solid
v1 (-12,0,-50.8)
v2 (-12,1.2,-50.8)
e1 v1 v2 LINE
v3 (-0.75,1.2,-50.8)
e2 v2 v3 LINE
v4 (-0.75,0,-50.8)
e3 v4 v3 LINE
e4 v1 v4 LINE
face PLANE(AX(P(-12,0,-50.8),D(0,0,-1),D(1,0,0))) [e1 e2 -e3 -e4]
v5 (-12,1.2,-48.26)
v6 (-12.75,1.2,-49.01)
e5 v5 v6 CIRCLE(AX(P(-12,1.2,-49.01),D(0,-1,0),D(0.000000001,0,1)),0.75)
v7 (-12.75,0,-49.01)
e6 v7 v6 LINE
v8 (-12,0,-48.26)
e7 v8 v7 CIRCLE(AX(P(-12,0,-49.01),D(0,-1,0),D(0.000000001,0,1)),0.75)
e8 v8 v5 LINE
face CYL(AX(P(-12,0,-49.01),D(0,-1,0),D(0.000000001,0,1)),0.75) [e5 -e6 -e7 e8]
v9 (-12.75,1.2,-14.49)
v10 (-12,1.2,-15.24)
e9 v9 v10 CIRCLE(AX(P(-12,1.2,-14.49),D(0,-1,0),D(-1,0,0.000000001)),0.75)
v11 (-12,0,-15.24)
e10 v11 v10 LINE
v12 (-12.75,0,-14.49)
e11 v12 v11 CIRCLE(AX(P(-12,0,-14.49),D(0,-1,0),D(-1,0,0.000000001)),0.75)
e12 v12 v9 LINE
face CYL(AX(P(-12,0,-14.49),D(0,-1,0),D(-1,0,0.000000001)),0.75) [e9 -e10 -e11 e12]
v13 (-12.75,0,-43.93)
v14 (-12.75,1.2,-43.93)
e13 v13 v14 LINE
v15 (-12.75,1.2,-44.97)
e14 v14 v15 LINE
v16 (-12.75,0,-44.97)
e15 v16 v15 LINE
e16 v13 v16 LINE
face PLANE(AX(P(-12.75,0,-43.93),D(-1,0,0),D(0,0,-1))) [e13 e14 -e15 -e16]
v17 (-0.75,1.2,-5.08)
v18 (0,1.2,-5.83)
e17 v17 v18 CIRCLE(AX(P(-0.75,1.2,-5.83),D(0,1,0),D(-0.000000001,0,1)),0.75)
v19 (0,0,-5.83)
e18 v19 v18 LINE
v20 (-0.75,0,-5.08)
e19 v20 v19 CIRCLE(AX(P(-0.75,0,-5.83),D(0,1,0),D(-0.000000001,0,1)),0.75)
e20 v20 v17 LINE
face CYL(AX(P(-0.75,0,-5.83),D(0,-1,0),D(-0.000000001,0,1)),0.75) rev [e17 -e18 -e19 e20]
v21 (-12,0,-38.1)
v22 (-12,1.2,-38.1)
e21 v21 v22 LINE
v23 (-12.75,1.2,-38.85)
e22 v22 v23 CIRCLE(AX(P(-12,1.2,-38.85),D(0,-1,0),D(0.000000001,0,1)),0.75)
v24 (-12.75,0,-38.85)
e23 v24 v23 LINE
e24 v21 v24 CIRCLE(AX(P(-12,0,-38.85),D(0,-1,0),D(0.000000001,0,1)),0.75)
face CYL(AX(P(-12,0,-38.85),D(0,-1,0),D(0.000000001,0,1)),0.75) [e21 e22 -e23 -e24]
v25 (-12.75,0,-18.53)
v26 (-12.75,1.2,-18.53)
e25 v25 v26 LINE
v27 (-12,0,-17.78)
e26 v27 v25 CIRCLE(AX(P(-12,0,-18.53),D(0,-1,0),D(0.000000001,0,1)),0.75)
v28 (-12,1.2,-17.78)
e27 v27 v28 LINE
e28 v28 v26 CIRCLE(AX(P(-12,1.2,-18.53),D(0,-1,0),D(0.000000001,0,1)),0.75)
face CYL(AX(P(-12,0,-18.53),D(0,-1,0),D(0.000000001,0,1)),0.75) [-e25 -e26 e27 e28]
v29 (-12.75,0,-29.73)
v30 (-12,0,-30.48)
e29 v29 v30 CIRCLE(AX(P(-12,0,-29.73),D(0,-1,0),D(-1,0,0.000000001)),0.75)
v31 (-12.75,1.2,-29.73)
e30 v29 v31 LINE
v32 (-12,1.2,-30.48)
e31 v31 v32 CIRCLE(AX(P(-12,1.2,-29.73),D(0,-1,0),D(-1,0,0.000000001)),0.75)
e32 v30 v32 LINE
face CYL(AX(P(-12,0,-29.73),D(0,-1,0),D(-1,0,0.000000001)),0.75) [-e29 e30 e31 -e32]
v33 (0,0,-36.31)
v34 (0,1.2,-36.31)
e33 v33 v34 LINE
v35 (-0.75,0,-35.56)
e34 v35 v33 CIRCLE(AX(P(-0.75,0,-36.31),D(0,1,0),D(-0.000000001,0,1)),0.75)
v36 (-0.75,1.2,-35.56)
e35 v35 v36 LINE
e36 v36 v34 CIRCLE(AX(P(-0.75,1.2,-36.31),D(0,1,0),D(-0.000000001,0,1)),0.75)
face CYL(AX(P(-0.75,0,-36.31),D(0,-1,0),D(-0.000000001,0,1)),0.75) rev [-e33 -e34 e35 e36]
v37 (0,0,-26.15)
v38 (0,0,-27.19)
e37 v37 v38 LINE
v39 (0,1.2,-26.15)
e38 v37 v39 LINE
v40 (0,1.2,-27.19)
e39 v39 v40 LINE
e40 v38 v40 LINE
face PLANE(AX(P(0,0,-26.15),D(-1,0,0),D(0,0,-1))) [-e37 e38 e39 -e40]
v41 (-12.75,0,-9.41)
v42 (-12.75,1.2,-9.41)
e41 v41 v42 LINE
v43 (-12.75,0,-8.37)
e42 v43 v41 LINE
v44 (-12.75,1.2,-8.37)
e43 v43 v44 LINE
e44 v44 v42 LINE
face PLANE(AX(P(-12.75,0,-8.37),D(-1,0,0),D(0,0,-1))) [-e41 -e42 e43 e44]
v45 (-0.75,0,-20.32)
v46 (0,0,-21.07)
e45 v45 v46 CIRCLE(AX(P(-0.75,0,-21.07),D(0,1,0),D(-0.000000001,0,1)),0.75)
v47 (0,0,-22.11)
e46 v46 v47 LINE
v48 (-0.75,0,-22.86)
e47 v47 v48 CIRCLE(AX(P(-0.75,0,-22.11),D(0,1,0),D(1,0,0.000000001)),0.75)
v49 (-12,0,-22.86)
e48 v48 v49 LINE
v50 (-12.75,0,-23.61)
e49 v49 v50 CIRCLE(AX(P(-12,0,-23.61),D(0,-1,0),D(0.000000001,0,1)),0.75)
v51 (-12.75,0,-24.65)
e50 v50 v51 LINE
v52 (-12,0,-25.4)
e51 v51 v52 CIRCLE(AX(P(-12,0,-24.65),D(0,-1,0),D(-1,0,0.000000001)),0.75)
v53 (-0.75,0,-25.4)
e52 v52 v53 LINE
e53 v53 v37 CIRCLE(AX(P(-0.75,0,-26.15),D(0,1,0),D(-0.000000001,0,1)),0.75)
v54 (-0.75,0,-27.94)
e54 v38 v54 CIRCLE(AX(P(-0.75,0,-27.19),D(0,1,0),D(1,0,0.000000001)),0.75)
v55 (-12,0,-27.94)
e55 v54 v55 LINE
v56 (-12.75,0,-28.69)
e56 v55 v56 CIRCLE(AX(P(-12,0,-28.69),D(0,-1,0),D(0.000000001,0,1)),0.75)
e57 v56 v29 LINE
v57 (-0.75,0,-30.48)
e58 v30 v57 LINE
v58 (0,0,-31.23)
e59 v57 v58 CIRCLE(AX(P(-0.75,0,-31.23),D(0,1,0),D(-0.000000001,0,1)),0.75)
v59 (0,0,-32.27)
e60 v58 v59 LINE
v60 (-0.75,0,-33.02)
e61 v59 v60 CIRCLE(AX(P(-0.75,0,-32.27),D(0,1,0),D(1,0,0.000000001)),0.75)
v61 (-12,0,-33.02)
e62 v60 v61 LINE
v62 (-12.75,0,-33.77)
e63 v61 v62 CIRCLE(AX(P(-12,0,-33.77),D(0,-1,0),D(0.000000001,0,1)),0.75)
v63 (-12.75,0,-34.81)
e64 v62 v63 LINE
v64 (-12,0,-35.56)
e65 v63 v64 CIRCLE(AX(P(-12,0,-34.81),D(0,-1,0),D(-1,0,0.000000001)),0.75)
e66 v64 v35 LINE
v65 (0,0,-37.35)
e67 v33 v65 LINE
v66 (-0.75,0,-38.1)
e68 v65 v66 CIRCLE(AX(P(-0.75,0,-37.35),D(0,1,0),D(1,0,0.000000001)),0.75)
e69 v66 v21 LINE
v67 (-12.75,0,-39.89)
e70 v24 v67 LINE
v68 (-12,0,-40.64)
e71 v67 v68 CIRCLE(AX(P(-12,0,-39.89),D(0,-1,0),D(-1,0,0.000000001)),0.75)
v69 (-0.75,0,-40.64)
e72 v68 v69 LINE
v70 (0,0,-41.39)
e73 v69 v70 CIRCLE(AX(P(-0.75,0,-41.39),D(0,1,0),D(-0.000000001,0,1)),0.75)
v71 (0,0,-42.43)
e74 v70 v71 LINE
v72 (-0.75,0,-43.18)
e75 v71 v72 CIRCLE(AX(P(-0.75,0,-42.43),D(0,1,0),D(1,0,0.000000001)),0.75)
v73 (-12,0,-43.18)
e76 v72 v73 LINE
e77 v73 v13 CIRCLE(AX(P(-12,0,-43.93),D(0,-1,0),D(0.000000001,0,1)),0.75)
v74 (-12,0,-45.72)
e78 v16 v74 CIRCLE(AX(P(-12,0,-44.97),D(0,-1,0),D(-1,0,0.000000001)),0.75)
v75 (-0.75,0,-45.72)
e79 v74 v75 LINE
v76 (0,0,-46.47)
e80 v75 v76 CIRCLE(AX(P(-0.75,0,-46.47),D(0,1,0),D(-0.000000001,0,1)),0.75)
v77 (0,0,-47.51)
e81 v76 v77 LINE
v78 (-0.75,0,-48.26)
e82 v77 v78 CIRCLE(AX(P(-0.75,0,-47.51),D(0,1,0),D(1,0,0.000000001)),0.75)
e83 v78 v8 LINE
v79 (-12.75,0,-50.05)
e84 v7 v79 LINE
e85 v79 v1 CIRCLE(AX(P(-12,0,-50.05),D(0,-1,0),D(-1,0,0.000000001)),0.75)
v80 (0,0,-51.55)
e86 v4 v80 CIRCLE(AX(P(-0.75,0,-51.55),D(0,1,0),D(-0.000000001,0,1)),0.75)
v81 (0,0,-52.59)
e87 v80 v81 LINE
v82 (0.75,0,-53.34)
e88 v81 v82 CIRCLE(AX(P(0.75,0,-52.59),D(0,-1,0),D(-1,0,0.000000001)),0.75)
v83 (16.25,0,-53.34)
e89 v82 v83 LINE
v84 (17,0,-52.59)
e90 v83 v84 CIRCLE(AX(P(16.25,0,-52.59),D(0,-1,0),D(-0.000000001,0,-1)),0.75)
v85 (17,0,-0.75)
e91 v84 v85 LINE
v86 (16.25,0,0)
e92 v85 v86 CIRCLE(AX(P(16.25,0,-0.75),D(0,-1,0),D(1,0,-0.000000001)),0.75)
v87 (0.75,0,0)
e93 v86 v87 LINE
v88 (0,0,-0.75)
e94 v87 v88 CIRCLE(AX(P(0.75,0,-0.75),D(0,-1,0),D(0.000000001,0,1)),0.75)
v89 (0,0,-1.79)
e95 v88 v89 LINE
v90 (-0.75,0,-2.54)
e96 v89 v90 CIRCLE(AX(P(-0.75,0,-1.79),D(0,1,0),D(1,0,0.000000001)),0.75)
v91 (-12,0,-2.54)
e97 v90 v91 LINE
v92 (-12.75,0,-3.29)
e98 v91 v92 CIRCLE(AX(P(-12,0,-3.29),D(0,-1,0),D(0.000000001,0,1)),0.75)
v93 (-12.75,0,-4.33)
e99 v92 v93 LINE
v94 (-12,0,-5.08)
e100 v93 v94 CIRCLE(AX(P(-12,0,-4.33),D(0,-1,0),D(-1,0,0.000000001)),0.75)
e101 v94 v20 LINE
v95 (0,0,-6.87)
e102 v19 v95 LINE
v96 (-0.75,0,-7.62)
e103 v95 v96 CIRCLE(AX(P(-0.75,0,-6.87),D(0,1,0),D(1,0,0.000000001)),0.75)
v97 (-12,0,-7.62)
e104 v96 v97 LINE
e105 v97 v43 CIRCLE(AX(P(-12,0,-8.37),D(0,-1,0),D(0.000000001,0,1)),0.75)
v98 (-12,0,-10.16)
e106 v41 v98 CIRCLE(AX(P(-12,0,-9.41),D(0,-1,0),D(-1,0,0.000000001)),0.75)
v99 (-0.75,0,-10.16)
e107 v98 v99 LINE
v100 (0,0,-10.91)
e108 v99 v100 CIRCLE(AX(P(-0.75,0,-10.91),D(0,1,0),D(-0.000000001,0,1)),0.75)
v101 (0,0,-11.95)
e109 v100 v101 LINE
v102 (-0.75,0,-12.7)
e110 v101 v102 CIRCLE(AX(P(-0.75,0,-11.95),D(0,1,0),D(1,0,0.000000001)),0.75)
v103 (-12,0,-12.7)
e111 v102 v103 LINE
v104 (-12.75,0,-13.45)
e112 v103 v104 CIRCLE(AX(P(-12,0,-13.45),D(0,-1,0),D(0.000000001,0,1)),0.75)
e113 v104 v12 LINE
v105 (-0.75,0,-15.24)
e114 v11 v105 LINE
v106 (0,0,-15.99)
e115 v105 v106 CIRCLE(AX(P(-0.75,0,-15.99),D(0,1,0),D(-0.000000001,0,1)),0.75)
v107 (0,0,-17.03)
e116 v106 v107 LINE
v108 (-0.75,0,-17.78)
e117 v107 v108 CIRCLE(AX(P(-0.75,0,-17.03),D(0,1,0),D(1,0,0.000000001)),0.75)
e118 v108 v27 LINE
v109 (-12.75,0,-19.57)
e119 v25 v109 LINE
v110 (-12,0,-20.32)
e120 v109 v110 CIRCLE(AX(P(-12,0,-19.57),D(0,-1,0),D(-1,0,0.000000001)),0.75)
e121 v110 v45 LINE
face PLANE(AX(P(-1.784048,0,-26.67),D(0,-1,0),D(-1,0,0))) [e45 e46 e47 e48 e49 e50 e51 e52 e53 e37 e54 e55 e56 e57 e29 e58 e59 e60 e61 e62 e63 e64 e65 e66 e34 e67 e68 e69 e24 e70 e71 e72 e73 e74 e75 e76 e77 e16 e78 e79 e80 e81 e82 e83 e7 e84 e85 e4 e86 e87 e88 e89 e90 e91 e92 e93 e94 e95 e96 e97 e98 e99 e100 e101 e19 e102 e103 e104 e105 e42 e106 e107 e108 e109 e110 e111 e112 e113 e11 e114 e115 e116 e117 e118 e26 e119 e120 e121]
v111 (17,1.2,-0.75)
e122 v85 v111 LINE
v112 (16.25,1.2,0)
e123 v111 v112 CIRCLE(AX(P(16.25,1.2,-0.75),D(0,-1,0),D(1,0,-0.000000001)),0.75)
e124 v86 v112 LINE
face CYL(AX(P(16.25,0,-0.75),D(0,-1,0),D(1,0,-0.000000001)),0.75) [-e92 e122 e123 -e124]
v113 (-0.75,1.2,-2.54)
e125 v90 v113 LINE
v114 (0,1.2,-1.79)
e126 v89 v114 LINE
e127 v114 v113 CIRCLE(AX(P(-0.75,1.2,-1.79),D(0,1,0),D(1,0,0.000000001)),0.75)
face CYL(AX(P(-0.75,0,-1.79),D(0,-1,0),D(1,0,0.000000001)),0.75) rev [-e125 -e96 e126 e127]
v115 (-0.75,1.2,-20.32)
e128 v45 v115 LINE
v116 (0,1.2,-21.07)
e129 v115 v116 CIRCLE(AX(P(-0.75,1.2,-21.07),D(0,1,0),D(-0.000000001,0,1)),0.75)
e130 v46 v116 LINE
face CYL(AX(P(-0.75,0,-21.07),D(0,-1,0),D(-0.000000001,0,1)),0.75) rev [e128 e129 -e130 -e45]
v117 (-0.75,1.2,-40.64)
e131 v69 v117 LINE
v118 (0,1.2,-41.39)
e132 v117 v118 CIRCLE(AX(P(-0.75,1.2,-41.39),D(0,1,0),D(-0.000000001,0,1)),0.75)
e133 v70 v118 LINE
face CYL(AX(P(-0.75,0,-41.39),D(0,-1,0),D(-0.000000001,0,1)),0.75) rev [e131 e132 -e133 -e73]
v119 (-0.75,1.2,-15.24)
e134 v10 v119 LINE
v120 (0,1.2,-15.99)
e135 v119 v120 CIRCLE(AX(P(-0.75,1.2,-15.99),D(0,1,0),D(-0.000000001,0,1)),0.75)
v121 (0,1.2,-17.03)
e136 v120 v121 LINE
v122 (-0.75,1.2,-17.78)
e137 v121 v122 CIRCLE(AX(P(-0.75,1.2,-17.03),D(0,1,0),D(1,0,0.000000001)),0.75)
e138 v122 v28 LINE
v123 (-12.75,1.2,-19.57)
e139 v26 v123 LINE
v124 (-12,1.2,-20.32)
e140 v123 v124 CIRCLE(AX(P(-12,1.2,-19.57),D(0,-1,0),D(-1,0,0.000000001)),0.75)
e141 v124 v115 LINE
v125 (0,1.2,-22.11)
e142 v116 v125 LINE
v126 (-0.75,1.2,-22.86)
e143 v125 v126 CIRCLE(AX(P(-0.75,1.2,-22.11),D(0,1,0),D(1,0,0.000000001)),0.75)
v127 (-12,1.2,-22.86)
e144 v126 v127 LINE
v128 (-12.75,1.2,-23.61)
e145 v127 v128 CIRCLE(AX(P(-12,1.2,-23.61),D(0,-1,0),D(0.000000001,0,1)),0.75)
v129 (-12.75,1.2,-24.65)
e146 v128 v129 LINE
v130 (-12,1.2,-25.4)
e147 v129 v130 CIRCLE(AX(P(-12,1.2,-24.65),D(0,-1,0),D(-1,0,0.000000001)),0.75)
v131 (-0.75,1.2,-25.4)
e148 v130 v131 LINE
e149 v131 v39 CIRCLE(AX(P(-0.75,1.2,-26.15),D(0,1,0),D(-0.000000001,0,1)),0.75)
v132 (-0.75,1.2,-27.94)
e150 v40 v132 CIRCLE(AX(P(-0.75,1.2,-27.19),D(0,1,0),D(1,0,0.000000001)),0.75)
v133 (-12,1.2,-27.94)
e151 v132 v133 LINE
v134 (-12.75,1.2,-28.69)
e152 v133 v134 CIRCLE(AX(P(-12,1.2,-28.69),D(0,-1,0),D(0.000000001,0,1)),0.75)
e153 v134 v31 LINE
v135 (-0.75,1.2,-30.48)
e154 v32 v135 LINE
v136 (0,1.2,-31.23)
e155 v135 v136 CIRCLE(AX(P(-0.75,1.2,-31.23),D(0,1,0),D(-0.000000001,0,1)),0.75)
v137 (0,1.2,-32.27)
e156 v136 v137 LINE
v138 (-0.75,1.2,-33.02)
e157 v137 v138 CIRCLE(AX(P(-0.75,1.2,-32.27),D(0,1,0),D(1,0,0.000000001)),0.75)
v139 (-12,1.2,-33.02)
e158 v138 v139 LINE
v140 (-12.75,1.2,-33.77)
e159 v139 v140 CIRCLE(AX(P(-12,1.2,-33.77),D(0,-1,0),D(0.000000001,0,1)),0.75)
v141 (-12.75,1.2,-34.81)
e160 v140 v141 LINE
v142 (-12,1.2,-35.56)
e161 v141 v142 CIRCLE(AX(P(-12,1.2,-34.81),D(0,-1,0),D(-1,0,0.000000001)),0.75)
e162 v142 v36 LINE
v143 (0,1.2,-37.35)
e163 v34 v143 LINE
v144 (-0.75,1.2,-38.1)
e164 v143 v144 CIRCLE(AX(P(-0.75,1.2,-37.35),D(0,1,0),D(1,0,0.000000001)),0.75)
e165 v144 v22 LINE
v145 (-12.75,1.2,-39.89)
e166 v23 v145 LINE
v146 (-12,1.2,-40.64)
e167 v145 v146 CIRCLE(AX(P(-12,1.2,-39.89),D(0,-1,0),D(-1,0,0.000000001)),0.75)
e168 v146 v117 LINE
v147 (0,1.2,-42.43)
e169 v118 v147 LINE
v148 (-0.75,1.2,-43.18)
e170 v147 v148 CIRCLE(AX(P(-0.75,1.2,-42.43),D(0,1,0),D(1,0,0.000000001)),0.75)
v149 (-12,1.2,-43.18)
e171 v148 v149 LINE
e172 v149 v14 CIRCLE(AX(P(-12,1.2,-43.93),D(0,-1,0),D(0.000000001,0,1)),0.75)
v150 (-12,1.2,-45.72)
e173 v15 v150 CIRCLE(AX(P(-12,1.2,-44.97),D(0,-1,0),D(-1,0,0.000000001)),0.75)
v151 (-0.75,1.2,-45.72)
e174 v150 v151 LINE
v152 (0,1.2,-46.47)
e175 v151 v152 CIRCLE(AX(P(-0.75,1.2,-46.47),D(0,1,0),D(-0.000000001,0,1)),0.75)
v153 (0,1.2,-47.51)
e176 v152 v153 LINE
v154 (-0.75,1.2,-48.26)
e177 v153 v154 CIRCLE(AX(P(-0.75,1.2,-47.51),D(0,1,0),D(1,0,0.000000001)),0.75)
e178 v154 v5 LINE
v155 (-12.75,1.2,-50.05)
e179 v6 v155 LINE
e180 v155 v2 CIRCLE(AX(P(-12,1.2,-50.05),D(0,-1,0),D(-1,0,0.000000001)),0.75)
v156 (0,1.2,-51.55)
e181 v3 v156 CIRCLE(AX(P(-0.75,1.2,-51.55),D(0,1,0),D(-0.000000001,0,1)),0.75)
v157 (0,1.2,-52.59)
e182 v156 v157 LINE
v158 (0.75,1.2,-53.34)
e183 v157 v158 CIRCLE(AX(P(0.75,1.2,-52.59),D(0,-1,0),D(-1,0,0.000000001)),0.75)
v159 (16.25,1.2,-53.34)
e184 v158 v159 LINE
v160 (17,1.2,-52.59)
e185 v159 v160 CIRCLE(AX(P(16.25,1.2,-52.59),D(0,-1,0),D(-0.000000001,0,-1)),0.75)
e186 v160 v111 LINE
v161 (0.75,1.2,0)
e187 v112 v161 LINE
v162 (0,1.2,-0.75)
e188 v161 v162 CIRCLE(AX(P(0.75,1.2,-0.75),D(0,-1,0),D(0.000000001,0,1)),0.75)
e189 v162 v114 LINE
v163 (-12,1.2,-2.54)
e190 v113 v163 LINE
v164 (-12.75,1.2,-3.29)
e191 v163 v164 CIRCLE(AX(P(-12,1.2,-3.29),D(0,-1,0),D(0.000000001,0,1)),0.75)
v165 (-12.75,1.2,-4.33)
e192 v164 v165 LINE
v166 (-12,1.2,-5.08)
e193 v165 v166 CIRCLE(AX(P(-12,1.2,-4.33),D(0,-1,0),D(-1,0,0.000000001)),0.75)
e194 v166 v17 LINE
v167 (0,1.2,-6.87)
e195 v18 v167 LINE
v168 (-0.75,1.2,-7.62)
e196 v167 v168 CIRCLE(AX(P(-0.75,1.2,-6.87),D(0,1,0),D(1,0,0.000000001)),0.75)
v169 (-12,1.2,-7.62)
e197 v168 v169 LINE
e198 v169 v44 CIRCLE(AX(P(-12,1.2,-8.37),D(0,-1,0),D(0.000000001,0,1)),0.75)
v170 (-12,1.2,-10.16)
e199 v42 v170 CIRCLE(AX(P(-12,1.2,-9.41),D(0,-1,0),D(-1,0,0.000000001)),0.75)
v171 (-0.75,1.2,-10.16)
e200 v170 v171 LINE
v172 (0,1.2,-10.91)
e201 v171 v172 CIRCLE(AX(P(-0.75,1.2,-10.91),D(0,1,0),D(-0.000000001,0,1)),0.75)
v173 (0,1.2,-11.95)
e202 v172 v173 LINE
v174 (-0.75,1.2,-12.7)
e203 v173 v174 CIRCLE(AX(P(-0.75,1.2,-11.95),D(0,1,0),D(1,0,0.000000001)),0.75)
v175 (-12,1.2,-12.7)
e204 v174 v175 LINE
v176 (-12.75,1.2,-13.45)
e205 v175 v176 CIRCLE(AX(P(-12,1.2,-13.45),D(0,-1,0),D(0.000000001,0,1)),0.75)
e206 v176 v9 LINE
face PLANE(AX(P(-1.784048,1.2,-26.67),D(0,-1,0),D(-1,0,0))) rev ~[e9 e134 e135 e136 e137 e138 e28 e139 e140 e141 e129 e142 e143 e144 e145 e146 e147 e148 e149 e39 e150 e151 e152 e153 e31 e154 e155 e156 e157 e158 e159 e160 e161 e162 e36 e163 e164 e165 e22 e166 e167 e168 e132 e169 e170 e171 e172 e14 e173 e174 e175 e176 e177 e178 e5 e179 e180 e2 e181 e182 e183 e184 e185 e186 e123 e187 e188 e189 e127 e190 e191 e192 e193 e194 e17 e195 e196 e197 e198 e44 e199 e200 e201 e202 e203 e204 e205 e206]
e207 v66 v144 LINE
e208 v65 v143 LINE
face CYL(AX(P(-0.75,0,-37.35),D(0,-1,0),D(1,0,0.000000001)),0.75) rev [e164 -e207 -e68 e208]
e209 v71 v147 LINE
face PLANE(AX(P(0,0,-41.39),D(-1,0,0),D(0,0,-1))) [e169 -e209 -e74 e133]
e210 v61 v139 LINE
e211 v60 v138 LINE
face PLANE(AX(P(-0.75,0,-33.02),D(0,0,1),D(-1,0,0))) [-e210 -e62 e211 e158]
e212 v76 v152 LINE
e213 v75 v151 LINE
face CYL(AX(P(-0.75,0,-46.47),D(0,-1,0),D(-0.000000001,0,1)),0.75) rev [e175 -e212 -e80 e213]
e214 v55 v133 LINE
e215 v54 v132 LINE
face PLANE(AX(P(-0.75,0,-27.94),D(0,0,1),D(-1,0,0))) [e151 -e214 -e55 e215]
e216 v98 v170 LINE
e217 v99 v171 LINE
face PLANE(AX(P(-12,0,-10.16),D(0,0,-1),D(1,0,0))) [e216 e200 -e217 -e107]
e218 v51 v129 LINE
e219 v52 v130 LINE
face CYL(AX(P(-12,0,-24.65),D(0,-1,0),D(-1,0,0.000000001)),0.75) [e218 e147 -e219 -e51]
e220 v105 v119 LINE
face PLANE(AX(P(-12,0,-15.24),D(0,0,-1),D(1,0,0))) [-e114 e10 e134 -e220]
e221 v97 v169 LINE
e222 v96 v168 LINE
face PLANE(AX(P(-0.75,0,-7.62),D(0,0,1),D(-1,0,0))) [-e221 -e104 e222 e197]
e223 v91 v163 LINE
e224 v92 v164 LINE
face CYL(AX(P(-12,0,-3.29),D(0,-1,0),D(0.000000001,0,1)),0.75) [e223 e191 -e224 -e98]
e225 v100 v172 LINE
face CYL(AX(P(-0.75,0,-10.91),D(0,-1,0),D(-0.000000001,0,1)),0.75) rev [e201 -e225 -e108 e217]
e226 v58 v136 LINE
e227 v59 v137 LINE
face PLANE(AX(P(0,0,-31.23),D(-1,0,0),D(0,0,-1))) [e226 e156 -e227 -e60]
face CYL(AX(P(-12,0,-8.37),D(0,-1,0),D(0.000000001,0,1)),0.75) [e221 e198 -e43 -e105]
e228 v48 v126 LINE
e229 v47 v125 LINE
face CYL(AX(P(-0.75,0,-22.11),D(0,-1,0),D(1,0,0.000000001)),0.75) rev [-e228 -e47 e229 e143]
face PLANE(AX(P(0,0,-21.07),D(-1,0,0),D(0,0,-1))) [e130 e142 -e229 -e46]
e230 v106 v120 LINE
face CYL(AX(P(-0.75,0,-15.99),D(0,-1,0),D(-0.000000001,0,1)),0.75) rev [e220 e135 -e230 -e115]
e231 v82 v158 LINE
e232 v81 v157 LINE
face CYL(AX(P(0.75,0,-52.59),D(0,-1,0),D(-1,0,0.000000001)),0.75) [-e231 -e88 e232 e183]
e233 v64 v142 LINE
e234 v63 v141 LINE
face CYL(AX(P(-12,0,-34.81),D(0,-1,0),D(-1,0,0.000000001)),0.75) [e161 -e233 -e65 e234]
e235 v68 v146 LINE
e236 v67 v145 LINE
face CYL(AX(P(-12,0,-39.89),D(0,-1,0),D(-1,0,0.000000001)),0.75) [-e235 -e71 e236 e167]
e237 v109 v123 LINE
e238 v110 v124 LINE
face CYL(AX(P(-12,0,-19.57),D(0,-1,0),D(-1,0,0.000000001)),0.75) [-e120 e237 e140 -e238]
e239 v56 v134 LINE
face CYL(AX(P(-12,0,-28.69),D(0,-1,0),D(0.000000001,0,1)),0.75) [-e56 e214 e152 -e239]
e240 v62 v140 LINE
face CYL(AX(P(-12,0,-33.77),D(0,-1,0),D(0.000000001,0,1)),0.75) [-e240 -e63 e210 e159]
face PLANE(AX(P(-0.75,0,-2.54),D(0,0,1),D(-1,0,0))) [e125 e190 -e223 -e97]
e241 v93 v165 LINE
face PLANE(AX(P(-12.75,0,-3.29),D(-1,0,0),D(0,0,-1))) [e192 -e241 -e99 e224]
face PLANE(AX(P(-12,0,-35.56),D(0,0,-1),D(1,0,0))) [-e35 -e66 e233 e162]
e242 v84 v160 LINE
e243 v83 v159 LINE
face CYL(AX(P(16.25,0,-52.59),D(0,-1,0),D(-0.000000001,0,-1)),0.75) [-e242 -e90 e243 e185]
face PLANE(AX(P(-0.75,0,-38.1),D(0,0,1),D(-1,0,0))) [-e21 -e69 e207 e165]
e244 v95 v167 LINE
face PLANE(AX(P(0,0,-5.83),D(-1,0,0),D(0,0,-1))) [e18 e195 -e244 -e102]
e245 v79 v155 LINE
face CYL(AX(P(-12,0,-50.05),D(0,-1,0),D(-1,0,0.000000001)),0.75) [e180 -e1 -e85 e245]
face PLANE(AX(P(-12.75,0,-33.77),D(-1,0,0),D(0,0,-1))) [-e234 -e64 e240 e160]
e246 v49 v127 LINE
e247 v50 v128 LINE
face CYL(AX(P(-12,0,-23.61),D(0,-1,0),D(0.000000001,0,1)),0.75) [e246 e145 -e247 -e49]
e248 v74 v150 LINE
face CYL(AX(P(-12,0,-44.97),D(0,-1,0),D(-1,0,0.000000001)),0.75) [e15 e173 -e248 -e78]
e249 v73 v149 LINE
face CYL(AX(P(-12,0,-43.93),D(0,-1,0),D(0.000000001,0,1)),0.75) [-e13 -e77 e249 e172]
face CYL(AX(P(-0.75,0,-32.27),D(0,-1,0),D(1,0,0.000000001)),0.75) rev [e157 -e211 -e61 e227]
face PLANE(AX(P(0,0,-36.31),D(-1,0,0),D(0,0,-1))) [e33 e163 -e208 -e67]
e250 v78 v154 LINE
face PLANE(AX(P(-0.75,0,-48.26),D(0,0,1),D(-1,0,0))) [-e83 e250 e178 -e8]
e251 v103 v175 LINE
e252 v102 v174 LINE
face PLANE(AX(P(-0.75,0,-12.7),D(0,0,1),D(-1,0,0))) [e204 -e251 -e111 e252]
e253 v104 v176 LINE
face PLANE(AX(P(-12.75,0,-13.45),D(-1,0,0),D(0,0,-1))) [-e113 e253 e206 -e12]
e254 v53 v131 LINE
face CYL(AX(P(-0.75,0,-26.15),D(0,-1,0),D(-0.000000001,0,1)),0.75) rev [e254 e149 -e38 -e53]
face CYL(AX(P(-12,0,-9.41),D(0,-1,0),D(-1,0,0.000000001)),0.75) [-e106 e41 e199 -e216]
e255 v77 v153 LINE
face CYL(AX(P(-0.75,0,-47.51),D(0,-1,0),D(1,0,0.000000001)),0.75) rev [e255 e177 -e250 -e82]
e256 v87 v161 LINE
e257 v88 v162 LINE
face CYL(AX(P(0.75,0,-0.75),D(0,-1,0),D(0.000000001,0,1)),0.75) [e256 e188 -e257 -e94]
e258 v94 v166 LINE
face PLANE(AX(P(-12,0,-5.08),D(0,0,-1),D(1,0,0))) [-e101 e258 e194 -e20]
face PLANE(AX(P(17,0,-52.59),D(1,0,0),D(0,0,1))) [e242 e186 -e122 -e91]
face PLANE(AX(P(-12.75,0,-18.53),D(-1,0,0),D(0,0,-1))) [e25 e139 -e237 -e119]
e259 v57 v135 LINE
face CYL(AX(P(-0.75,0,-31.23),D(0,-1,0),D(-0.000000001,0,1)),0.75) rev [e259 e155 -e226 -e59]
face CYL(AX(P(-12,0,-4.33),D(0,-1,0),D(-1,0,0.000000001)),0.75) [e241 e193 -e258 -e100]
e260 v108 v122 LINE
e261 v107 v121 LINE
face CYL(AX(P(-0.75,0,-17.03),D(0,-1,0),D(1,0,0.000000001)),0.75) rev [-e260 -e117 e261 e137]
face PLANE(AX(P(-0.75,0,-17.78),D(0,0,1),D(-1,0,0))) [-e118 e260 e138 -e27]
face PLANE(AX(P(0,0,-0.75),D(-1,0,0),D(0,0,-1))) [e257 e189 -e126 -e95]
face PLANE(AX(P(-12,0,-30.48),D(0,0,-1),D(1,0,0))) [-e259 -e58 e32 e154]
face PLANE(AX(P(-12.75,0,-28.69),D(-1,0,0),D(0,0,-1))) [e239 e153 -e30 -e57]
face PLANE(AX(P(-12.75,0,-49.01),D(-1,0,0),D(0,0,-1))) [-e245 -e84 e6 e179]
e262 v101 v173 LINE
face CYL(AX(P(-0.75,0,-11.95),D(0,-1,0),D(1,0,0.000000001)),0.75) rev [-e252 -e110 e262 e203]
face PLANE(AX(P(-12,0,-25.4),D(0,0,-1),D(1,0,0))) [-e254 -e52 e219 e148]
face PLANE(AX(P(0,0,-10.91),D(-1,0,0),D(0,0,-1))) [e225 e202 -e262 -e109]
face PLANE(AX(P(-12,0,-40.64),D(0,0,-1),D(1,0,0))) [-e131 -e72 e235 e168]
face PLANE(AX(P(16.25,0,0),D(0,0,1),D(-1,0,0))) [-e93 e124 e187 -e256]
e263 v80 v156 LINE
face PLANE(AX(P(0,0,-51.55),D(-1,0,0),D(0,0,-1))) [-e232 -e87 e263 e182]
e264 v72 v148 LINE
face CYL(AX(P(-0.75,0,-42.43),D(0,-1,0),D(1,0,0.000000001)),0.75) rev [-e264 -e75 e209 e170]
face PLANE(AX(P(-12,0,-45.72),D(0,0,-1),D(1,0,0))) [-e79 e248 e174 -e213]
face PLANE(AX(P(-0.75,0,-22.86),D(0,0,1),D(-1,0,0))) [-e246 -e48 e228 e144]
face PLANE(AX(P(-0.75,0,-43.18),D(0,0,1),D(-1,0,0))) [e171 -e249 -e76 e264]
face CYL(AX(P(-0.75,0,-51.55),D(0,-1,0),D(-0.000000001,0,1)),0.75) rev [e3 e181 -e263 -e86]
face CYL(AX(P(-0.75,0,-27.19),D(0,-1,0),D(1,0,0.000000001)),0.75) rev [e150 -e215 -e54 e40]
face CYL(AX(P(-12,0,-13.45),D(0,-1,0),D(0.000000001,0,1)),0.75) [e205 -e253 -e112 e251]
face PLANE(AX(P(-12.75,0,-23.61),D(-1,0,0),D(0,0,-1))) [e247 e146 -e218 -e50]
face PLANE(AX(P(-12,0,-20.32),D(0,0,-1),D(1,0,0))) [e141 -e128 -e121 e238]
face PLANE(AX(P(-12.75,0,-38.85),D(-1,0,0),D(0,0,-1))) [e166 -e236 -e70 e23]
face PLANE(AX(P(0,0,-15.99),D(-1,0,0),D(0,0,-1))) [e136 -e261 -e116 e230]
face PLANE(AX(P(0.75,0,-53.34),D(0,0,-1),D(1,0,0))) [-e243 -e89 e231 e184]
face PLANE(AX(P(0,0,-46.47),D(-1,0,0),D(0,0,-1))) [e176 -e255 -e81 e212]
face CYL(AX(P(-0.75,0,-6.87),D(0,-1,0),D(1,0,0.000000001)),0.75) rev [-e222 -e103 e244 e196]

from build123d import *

# Parameters (mm, degrees)
BOSS_EXTRUDE1_DEPTH = 1.2


with BuildPart() as part:
    # Sketch1 → Boss-Extrude1 (new body)
    with BuildSketch(Plane(origin=(0, 0, 0), x_dir=(1, 0, 0), z_dir=(0, 1, 0))):
        with BuildLine():
            Line((-0.75, 2.54), (-12, 2.54))
            ThreePointArc((-12, 2.54), (-12.530330086, 2.759669914), (-12.75, 3.29))
            Line((-12.75, 3.29), (-12.75, 4.33))
            ThreePointArc((-12.75, 4.33), (-12.530330086, 4.860330086), (-12, 5.08))
            Line((-12, 5.08), (-0.75, 5.08))
            ThreePointArc((-0.75, 5.08), (-0.219669914, 5.299669914), (0, 5.83))
            Line((0, 5.83), (0, 6.87))
            ThreePointArc((0, 6.87), (-0.219669914, 7.400330086), (-0.75, 7.62))
            Line((-0.75, 7.62), (-12, 7.62))
            ThreePointArc((-12, 7.62), (-12.530330086, 7.839669914), (-12.75, 8.37))
            Line((-12.75, 8.37), (-12.75, 9.41))
            ThreePointArc((-12.75, 9.41), (-12.530330086, 9.940330086), (-12, 10.16))
            Line((-12, 10.16), (-0.75, 10.16))
            ThreePointArc((-0.75, 10.16), (-0.219669914, 10.379669914), (0, 10.91))
            Line((0, 10.91), (0, 11.95))
            ThreePointArc((0, 11.95), (-0.219669914, 12.480330086), (-0.75, 12.7))
            Line((-0.75, 12.7), (-12, 12.7))
            ThreePointArc((-12, 12.7), (-12.530330086, 12.919669914), (-12.75, 13.45))
            Line((-12.75, 13.45), (-12.75, 14.49))
            ThreePointArc((-12.75, 14.49), (-12.530330086, 15.020330086), (-12, 15.24))
            Line((-12, 15.24), (-0.75, 15.24))
            ThreePointArc((-0.75, 15.24), (-0.219669914, 15.459669914), (0, 15.99))
            Line((0, 15.99), (0, 17.03))
            ThreePointArc((0, 17.03), (-0.219669914, 17.560330086), (-0.75, 17.78))
            Line((-0.75, 17.78), (-12, 17.78))
            ThreePointArc((-12, 17.78), (-12.530330086, 17.999669914), (-12.75, 18.53))
            Line((-12.75, 18.53), (-12.75, 19.57))
            ThreePointArc((-12.75, 19.57), (-12.530330086, 20.100330086), (-12, 20.32))
            Line((-12, 20.32), (-0.75, 20.32))
            ThreePointArc((-0.75, 20.32), (-0.219669914, 20.539669914), (0, 21.07))
            Line((0, 21.07), (0, 22.11))
            ThreePointArc((0, 22.11), (-0.219669914, 22.640330086), (-0.75, 22.86))
            Line((-0.75, 22.86), (-12, 22.86))
            ThreePointArc((-12, 22.86), (-12.530330086, 23.079669914), (-12.75, 23.61))
            Line((-12.75, 23.61), (-12.75, 24.65))
            ThreePointArc((-12.75, 24.65), (-12.530330086, 25.180330086), (-12, 25.4))
            Line((-12, 25.4), (-0.75, 25.4))
            ThreePointArc((-0.75, 25.4), (-0.219669914, 25.619669914), (0, 26.15))
            Line((0, 26.15), (0, 27.19))
            ThreePointArc((0, 27.19), (-0.219669914, 27.720330086), (-0.75, 27.94))
            Line((-0.75, 27.94), (-12, 27.94))
            ThreePointArc((-12, 27.94), (-12.530330086, 28.159669914), (-12.75, 28.69))
            Line((-12.75, 28.69), (-12.75, 29.73))
            ThreePointArc((-12.75, 29.73), (-12.530330086, 30.260330086), (-12, 30.48))
            Line((-12, 30.48), (-0.75, 30.48))
            ThreePointArc((-0.75, 30.48), (-0.219669914, 30.699669914), (0, 31.23))
            Line((0, 31.23), (0, 32.27))
            ThreePointArc((0, 32.27), (-0.219669914, 32.800330086), (-0.75, 33.02))
            Line((-0.75, 33.02), (-12, 33.02))
            ThreePointArc((-12, 33.02), (-12.530330086, 33.239669914), (-12.75, 33.77))
            Line((-12.75, 33.77), (-12.75, 34.81))
            ThreePointArc((-12.75, 34.81), (-12.530330086, 35.340330086), (-12, 35.56))
            Line((-12, 35.56), (-0.75, 35.56))
            ThreePointArc((-0.75, 35.56), (-0.219669914, 35.779669914), (0, 36.31))
            Line((0, 36.31), (0, 37.35))
            ThreePointArc((0, 37.35), (-0.219669914, 37.880330086), (-0.75, 38.1))
            Line((-0.75, 38.1), (-12, 38.1))
            ThreePointArc((-12, 38.1), (-12.530330086, 38.319669914), (-12.75, 38.85))
            Line((-12.75, 38.85), (-12.75, 39.89))
            ThreePointArc((-12.75, 39.89), (-12.530330086, 40.420330086), (-12, 40.64))
            Line((-12, 40.64), (-0.75, 40.64))
            ThreePointArc((-0.75, 40.64), (-0.219669914, 40.859669914), (0, 41.39))
            Line((0, 41.39), (0, 42.43))
            ThreePointArc((0, 42.43), (-0.219669914, 42.960330086), (-0.75, 43.18))
            Line((-0.75, 43.18), (-12, 43.18))
            ThreePointArc((-12, 43.18), (-12.530330086, 43.399669914), (-12.75, 43.93))
            Line((-12.75, 43.93), (-12.75, 44.97))
            ThreePointArc((-12.75, 44.97), (-12.530330086, 45.500330086), (-12, 45.72))
            Line((-12, 45.72), (-0.75, 45.72))
            ThreePointArc((-0.75, 45.72), (-0.219669914, 45.939669914), (0, 46.47))
            Line((0, 46.47), (0, 47.51))
            ThreePointArc((0, 47.51), (-0.219669914, 48.040330086), (-0.75, 48.26))
            Line((-0.75, 48.26), (-12, 48.26))
            ThreePointArc((-12, 48.26), (-12.530330086, 48.479669914), (-12.75, 49.01))
            Line((-12.75, 49.01), (-12.75, 50.05))
            ThreePointArc((-12.75, 50.05), (-12.530330086, 50.580330086), (-12, 50.8))
            Line((-12, 50.8), (-0.75, 50.8))
            ThreePointArc((-0.75, 50.8), (-0.219669914, 51.019669914), (0, 51.55))
            Line((0, 51.55), (0, 52.59))
            ThreePointArc((0, 52.59), (0.219669914, 53.120330086), (0.75, 53.34))
            Line((0.75, 53.34), (16.25, 53.34))
            ThreePointArc((16.25, 53.34), (16.780330086, 53.120330086), (17, 52.59))
            Line((17, 52.59), (17, 0.75))
            ThreePointArc((17, 0.75), (16.780330086, 0.219669914), (16.25, 0))
            Line((16.25, 0), (0.75, 0))
            ThreePointArc((0.75, 0), (0.219669914, 0.219669914), (0, 0.75))
            Line((0, 0.75), (0, 1.79))
            ThreePointArc((0, 1.79), (-0.219669914, 2.320330086), (-0.75, 2.54))
        make_face()
    extrude(amount=BOSS_EXTRUDE1_DEPTH)


solid = part.part
